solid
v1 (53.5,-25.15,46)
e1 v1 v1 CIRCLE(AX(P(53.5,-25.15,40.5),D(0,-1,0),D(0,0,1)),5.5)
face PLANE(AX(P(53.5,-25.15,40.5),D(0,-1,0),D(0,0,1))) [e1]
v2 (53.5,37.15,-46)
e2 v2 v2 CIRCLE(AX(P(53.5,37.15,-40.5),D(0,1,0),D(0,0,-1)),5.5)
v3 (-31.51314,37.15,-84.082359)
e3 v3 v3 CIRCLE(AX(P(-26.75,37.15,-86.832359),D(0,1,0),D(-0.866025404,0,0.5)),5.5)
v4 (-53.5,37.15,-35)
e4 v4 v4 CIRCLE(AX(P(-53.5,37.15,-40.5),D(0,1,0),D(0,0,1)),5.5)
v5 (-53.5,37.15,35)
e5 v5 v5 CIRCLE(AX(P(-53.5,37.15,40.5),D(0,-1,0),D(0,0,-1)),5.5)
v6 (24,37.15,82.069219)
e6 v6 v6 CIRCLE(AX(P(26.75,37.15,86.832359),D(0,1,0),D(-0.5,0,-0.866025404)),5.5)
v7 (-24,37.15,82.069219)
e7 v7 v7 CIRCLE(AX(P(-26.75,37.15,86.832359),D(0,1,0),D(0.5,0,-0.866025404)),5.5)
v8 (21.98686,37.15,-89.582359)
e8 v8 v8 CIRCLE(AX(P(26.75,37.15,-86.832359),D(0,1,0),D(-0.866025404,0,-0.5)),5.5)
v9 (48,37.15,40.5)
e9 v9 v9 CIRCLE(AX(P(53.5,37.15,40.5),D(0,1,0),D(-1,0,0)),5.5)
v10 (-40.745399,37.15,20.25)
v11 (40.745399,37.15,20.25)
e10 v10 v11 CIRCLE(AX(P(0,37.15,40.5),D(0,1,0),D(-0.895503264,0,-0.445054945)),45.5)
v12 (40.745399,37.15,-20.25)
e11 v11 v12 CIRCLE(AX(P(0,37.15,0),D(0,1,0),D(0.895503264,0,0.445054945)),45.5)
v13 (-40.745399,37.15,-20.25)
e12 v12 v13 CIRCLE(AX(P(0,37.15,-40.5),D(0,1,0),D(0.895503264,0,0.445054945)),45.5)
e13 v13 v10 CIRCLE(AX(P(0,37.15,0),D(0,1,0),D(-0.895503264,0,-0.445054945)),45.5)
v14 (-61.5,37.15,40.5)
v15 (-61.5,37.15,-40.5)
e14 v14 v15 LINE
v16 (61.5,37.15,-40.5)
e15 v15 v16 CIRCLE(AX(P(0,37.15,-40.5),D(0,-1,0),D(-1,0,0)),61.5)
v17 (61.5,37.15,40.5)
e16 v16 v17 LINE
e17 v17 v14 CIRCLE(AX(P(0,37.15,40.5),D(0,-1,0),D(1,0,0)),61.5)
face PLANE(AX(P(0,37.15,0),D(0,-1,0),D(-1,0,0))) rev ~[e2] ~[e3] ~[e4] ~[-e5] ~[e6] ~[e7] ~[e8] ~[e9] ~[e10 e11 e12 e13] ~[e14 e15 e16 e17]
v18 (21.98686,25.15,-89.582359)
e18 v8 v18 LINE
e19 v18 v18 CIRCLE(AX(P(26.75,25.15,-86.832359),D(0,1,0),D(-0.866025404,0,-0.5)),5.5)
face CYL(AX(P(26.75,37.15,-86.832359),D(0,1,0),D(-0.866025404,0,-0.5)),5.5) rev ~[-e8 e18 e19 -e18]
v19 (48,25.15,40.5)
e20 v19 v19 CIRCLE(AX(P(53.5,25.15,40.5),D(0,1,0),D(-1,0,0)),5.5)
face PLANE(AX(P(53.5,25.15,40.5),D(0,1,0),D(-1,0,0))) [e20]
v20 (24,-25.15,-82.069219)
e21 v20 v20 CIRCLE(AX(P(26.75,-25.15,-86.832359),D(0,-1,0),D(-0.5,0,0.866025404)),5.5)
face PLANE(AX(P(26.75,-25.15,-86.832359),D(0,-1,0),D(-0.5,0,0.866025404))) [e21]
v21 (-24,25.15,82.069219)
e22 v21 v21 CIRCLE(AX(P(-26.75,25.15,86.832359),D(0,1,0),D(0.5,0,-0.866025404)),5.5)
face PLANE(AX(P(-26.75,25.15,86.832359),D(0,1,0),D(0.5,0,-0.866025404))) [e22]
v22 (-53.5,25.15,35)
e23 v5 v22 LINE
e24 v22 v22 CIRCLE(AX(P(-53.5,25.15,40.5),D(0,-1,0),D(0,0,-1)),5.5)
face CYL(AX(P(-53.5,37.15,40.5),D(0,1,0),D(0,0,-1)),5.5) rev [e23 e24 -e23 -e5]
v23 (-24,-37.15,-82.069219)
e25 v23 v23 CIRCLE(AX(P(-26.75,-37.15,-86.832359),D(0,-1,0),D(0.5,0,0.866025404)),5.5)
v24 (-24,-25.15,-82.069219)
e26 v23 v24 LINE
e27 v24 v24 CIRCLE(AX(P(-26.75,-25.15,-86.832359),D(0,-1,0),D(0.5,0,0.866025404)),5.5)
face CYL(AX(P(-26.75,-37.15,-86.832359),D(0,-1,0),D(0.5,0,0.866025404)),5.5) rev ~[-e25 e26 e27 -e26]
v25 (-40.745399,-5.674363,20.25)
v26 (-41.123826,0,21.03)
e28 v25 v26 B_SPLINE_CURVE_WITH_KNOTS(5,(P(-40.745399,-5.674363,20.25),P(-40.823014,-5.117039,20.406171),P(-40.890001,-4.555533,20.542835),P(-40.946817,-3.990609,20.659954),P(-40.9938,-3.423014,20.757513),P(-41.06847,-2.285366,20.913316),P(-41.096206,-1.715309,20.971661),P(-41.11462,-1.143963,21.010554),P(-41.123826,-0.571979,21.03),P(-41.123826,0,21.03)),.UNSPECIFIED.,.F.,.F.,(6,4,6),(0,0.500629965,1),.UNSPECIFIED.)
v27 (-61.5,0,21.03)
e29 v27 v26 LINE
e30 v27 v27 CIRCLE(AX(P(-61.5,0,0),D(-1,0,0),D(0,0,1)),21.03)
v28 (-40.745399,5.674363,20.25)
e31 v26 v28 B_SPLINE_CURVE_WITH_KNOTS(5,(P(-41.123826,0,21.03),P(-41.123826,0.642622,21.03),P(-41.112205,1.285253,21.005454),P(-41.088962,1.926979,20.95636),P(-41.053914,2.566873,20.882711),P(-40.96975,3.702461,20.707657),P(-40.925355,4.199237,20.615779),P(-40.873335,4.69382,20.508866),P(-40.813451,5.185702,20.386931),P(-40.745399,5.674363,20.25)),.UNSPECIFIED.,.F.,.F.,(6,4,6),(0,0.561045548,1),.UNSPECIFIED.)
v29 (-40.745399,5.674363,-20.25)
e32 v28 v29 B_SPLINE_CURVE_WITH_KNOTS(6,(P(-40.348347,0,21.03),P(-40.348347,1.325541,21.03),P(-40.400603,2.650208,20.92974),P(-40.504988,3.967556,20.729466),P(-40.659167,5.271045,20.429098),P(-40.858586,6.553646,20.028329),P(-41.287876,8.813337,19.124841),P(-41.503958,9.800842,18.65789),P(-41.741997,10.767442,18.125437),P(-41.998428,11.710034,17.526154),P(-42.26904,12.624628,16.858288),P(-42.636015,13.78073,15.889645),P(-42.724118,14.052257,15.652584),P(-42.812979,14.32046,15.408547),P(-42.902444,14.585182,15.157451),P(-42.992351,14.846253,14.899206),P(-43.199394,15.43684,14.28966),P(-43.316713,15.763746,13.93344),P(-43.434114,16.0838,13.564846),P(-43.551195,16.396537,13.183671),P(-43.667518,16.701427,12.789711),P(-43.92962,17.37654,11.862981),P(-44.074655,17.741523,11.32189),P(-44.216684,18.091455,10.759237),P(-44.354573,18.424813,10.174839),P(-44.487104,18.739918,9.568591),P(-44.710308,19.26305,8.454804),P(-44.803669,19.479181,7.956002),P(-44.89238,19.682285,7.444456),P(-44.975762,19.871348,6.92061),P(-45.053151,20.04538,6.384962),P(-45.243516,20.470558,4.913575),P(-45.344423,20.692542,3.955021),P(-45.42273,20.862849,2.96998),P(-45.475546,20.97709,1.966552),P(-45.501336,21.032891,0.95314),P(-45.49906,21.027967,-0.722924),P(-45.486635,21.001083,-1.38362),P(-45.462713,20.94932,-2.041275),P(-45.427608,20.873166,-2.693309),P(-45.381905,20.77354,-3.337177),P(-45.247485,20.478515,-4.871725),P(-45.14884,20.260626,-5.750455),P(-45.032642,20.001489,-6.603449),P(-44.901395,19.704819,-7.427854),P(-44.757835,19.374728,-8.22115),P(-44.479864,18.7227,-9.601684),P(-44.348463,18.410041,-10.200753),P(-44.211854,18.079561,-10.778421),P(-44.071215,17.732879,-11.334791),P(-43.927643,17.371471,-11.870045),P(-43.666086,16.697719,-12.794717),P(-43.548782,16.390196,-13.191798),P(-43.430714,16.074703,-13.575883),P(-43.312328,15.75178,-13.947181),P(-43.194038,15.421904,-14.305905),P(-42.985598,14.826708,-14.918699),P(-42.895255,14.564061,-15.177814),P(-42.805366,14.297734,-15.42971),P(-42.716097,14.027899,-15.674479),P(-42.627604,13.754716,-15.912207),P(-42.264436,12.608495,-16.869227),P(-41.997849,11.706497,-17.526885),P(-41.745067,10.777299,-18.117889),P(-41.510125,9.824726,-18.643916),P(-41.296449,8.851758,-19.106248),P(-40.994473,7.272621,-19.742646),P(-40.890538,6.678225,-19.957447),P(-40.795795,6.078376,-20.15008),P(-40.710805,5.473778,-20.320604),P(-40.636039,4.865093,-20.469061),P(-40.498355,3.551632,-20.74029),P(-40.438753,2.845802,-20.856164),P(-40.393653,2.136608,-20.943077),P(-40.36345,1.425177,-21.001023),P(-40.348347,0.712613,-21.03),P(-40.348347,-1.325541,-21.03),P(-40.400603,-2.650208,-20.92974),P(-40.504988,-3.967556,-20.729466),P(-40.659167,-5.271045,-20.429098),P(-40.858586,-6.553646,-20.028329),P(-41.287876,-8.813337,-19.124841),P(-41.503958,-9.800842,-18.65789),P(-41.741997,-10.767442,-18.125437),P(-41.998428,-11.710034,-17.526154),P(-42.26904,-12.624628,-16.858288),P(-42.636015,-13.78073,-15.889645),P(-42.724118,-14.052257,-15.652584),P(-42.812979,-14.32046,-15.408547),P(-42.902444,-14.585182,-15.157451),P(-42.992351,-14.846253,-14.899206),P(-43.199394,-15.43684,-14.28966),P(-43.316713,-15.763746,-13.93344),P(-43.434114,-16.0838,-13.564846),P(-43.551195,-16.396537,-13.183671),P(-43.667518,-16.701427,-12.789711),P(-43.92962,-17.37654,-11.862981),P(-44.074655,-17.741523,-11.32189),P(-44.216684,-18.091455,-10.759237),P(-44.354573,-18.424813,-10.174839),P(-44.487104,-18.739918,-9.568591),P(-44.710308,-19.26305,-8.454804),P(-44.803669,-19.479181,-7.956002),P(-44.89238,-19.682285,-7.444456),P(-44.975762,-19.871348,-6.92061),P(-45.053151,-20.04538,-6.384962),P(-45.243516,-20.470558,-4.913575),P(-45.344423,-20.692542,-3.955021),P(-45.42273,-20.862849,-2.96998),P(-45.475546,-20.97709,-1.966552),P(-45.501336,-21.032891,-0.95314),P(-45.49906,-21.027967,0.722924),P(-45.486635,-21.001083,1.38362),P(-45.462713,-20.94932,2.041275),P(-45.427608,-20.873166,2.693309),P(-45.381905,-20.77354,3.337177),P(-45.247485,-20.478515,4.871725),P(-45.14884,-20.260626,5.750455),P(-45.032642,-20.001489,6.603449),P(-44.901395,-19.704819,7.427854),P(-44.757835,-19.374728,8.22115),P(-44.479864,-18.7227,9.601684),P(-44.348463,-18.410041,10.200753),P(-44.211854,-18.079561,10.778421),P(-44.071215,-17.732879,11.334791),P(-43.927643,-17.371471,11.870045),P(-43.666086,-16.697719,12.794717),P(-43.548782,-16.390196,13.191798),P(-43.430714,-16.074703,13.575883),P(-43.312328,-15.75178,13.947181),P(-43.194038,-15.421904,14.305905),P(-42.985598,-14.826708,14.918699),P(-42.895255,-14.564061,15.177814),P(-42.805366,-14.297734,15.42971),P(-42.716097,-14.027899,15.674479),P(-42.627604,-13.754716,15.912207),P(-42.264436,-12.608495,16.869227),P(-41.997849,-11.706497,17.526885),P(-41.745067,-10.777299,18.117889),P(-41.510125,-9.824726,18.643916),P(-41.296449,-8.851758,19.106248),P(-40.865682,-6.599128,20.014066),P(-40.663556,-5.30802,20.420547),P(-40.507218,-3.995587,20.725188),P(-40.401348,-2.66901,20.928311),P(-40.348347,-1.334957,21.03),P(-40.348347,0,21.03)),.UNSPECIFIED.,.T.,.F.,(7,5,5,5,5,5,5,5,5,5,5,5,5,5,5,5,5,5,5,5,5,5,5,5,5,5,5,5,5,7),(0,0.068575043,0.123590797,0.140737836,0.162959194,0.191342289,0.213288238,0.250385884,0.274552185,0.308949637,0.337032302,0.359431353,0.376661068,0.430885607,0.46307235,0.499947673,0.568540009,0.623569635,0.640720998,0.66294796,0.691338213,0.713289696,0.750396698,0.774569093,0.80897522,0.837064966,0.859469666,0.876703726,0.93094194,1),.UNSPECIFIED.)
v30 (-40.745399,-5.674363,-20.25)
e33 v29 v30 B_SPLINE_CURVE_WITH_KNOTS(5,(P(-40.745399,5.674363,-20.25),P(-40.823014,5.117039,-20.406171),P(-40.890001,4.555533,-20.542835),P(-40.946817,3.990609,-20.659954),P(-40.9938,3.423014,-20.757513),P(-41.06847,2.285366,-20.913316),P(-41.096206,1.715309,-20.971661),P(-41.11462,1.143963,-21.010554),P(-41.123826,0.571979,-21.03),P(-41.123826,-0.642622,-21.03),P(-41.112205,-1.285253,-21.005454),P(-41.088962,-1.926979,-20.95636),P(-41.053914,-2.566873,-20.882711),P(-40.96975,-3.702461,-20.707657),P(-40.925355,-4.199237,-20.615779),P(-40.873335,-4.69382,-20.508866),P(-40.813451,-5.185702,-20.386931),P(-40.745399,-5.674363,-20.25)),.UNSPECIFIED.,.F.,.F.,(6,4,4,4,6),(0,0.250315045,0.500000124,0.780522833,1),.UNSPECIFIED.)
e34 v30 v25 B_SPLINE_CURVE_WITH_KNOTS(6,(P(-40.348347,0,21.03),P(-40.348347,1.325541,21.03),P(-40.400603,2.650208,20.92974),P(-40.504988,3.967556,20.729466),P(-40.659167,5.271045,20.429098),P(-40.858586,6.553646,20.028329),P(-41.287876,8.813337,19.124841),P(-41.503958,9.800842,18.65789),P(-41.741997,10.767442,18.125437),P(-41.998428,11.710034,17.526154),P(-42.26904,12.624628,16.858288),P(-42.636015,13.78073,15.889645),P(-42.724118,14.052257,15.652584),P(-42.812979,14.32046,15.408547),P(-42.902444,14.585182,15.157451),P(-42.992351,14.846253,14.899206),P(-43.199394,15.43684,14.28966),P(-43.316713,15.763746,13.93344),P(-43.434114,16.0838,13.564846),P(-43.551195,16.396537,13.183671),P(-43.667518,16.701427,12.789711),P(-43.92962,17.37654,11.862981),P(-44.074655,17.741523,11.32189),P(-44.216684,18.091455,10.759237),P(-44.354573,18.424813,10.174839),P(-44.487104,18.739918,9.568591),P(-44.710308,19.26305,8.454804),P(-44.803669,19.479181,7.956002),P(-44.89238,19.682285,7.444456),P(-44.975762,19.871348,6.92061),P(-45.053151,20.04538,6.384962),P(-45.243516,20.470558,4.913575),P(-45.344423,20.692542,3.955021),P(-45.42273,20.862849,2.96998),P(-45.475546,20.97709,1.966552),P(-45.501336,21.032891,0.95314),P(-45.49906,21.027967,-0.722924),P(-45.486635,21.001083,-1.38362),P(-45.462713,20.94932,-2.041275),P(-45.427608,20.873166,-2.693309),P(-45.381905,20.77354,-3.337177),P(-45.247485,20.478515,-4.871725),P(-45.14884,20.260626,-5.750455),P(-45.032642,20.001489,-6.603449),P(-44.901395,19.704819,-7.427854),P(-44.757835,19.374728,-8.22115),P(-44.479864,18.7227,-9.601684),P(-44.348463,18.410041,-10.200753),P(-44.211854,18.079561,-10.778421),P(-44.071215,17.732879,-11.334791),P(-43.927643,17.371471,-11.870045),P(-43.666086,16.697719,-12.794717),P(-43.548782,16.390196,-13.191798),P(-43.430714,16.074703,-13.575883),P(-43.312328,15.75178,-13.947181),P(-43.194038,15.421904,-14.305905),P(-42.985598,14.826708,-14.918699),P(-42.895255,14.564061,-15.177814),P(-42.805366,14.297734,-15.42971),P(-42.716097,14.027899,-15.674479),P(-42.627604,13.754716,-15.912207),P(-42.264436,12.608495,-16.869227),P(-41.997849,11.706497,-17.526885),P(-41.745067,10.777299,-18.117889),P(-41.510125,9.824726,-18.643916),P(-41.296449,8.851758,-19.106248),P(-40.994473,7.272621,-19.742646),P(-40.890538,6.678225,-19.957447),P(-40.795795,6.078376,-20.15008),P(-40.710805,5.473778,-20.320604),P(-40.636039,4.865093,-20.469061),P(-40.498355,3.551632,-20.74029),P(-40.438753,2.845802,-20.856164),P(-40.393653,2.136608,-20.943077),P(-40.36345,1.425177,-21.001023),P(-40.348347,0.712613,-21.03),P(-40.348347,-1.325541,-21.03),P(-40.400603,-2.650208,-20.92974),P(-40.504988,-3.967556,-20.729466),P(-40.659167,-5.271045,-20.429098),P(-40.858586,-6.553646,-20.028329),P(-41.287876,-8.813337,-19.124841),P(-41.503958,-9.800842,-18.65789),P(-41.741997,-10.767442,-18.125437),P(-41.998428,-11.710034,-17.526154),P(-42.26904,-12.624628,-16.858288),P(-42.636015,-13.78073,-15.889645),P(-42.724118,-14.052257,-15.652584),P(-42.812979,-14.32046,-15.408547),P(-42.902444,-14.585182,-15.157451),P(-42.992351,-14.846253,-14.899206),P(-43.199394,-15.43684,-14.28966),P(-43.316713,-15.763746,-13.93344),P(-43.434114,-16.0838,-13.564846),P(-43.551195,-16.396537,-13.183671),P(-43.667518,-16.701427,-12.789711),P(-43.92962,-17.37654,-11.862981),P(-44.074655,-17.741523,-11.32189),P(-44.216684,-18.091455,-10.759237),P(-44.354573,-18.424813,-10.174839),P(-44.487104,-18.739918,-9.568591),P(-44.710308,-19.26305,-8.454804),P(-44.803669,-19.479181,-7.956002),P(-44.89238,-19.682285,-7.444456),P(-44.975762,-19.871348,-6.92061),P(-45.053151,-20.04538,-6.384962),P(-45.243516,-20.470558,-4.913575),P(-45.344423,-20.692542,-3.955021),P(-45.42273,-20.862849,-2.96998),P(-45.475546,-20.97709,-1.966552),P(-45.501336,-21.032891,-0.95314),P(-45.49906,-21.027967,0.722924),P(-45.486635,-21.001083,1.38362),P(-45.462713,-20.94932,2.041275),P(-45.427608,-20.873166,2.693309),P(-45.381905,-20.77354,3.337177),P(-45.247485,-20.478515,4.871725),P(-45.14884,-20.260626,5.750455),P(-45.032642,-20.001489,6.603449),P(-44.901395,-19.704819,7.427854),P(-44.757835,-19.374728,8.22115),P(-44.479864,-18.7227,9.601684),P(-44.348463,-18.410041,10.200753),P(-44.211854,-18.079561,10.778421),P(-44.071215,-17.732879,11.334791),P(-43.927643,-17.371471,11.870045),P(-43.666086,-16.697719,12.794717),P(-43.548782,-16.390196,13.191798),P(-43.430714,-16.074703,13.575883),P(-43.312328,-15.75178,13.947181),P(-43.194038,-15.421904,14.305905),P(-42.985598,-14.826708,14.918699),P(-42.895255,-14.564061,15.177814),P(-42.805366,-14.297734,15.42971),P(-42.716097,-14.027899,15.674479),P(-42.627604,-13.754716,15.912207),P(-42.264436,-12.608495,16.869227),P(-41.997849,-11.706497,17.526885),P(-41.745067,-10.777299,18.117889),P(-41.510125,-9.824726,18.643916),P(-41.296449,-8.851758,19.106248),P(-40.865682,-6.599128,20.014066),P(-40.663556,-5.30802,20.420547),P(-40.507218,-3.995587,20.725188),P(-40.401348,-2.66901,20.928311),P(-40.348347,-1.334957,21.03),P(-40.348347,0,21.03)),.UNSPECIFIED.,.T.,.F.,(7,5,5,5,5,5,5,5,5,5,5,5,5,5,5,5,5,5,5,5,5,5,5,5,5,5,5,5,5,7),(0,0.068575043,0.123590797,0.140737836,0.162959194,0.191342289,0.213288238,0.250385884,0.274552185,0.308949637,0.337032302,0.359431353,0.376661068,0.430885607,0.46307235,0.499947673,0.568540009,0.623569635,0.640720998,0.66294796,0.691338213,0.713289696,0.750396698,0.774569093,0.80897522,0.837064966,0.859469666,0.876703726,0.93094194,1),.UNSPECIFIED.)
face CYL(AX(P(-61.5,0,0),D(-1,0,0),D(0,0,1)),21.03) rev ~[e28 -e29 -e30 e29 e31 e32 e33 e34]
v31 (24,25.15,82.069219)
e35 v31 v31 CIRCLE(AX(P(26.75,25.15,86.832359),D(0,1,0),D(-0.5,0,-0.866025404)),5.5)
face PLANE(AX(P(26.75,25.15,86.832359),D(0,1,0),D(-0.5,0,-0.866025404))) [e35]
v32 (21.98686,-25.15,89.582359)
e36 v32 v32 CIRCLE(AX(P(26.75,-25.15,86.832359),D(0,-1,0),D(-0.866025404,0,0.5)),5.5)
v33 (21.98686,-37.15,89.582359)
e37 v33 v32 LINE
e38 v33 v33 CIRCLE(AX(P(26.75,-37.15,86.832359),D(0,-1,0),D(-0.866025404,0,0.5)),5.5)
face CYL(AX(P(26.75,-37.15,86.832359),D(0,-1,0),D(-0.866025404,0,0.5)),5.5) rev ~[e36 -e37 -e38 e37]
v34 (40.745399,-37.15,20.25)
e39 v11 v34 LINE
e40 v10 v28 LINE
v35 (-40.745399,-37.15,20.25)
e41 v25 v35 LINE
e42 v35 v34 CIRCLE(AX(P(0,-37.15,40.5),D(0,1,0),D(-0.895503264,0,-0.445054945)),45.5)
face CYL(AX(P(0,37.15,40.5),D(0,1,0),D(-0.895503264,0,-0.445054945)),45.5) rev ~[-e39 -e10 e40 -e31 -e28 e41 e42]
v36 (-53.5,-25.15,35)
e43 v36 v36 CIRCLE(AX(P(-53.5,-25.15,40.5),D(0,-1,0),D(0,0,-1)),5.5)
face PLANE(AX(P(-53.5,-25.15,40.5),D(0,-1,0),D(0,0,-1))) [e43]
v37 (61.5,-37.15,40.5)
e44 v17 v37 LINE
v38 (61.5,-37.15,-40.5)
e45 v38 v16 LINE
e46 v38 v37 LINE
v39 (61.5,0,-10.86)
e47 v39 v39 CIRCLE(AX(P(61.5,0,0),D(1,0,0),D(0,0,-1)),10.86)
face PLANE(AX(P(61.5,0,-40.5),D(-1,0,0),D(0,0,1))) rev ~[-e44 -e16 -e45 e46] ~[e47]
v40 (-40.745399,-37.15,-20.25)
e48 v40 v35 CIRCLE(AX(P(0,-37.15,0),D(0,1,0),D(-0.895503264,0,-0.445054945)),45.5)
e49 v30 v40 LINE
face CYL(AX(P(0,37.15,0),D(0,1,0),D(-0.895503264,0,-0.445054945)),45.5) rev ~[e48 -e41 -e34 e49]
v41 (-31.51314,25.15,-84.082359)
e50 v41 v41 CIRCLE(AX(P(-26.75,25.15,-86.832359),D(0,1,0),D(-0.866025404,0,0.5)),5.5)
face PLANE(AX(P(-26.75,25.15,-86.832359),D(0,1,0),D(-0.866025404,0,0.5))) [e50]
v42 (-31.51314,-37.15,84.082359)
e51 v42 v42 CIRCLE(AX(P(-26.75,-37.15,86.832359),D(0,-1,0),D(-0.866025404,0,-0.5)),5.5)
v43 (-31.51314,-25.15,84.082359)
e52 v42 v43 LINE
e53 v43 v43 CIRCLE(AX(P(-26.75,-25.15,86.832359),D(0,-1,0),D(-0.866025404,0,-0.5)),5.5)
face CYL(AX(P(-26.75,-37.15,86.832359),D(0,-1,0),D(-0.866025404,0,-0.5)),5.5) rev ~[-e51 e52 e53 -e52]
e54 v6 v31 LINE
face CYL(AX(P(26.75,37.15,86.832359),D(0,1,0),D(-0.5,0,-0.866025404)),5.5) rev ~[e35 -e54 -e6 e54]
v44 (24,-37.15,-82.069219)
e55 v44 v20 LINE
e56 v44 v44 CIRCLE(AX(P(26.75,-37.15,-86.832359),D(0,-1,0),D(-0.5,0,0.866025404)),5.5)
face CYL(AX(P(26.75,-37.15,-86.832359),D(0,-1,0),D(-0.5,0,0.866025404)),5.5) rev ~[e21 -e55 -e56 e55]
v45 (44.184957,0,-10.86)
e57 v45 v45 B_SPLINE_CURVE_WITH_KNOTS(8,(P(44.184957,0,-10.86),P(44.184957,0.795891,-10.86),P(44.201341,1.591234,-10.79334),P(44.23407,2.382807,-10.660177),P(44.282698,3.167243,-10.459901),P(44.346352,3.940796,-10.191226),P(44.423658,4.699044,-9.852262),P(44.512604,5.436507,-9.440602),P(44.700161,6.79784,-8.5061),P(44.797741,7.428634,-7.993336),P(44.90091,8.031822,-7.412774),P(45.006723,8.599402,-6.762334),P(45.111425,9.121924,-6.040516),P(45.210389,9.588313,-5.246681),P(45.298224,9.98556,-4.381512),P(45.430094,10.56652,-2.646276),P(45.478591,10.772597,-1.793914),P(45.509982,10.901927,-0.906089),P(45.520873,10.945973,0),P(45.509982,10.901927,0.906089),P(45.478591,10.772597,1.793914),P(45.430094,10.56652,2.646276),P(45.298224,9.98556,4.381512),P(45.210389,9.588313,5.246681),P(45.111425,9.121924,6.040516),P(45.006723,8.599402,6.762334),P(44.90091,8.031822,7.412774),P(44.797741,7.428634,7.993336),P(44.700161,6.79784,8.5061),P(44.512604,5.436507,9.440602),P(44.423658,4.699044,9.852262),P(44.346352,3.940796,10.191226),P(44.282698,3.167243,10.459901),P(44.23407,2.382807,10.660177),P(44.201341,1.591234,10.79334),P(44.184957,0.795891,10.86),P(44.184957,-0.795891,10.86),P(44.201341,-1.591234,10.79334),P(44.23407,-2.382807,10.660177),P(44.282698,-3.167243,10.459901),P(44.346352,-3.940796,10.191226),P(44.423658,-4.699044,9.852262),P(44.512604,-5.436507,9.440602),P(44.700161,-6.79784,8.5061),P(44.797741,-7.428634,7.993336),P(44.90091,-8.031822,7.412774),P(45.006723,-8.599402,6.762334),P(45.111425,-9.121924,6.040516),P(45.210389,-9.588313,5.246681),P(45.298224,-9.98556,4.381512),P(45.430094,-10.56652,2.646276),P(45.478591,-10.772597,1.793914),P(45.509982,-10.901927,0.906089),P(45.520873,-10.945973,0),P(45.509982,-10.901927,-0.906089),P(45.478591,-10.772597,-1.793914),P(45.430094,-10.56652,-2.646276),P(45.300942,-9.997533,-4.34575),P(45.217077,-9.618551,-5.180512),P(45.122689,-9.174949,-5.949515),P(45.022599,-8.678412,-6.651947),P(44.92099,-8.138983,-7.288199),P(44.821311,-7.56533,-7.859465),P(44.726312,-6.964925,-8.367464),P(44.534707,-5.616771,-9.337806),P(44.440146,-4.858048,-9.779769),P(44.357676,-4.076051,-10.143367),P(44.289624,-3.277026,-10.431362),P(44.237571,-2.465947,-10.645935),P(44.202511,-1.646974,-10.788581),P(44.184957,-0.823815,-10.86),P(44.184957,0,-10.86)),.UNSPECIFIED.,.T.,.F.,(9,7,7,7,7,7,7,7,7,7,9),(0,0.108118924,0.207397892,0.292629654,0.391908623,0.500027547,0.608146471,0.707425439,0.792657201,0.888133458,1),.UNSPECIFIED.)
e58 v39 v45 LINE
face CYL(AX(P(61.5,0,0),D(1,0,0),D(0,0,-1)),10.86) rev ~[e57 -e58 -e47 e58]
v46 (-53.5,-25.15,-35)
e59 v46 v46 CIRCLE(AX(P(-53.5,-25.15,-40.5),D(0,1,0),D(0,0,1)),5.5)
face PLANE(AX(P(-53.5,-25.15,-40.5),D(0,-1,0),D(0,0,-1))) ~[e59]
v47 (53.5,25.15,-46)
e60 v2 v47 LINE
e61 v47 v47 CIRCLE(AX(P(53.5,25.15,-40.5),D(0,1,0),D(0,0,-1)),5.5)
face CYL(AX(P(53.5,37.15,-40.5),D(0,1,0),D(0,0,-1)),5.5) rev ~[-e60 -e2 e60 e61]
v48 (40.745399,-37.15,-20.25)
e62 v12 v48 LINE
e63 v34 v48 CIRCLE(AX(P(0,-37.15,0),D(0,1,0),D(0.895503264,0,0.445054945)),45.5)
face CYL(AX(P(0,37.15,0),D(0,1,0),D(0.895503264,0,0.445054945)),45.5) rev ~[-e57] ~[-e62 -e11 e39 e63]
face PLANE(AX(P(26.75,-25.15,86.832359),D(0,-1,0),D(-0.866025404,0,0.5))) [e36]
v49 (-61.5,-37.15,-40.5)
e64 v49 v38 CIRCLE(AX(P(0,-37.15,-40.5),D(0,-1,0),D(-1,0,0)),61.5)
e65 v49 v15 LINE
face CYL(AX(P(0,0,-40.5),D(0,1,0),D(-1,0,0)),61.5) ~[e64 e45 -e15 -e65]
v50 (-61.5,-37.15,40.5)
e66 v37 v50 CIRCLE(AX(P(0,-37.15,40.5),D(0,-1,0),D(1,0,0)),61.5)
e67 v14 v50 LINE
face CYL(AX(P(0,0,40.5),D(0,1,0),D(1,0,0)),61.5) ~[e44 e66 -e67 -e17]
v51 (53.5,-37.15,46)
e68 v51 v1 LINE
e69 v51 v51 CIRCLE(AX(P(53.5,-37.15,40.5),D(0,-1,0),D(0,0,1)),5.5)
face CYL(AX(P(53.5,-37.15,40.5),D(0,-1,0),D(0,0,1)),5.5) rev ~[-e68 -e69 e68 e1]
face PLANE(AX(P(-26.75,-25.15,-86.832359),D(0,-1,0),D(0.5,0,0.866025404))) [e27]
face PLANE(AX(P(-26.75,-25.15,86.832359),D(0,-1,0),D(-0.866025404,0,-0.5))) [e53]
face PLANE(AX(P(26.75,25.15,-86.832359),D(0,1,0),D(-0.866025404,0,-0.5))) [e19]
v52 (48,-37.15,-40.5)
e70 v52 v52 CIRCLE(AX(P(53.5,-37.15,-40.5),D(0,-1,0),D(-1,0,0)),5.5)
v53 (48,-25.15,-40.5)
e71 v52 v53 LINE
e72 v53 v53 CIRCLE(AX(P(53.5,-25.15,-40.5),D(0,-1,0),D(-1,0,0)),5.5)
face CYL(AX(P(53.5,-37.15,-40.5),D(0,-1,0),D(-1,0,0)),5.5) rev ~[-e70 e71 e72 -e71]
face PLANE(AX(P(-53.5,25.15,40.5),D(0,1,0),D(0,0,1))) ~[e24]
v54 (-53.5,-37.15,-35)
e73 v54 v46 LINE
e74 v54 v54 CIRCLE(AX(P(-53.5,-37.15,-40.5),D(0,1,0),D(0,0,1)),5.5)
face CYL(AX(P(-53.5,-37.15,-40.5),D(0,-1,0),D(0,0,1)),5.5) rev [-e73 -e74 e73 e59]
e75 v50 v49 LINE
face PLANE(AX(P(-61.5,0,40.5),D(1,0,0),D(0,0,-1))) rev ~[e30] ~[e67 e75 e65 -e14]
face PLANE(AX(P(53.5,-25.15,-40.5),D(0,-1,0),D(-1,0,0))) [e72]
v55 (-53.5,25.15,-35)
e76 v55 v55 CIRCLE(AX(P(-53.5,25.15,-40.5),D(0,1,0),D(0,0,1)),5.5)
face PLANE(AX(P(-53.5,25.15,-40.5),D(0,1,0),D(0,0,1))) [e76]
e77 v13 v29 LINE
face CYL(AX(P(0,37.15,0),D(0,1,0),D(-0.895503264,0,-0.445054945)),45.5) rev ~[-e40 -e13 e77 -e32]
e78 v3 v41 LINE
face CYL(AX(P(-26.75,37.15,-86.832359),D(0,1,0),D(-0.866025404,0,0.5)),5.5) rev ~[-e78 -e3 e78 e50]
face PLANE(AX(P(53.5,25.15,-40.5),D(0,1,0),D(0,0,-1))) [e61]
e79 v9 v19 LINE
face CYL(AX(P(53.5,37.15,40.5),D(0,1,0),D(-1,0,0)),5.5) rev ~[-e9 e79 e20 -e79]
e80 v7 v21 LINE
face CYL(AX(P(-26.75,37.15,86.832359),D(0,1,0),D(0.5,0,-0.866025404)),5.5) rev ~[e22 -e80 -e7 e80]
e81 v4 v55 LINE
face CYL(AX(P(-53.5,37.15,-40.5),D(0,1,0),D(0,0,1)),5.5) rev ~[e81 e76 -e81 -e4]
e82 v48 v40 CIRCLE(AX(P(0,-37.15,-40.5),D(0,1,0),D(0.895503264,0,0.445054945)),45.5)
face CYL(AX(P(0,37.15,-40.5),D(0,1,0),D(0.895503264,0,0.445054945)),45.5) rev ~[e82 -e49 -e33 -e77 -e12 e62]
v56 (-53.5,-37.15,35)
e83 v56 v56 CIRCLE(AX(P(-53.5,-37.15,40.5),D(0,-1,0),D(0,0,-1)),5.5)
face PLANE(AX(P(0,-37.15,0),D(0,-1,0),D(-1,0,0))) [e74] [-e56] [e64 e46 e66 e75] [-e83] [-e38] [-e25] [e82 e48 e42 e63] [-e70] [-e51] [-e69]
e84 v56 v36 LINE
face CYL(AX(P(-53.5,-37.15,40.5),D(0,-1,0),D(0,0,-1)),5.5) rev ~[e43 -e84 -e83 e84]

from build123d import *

# Parameters (mm, degrees)
Y_KSEKLIK_EKSTR_ZYON1_DEPTH = 37.15
KES_EKSTR_ZYON1_DEPTH       = 74.3
IZIM3_R                     = 5.5
KES_EKSTR_ZYON2_DEPTH       = 12
DAIRESEL_KAPLAMA1_COUNT     = 5
DAIRESEL_KAPLAMA1_ANGLE     = 240
AYNALAMA1_COPY_1_SKETCH_R   = 5.5
AYNALAMA1_COPY_1_DEPTH      = 12
AYNALAMA1_COPY_2_SKETCH_R   = 5.5
AYNALAMA1_COPY_2_DEPTH      = 12
AYNALAMA1_COPY_3_SKETCH_R   = 5.5
AYNALAMA1_COPY_3_DEPTH      = 12
AYNALAMA1_COPY_4_SKETCH_R   = 5.5
AYNALAMA1_COPY_4_DEPTH      = 12
AYNALAMA2_COPY_1_SKETCH_R   = 5.5
AYNALAMA2_COPY_1_DEPTH      = 12
AYNALAMA2_COPY_2_SKETCH_R   = 5.5
AYNALAMA2_COPY_2_DEPTH      = 12
AYNALAMA2_COPY_3_SKETCH_R   = 5.5
AYNALAMA2_COPY_3_DEPTH      = 12
AYNALAMA2_COPY_4_SKETCH_R   = 5.5
AYNALAMA2_COPY_4_DEPTH      = 12
AYNALAMA2_COPY_5_SKETCH_R   = 5.5
AYNALAMA2_COPY_5_DEPTH      = 12
AYNALAMA2_COPY_6_SKETCH_R   = 5.5
AYNALAMA2_COPY_6_DEPTH      = 12
AYNALAMA2_COPY_7_SKETCH_R   = 5.5
AYNALAMA2_COPY_7_DEPTH      = 12
AYNALAMA2_COPY_8_SKETCH_R   = 5.5
AYNALAMA2_COPY_8_DEPTH      = 12
AYNALAMA2_COPY_9_SKETCH_R   = 5.5
AYNALAMA2_COPY_9_DEPTH      = 12
KES_EKSTR_ZYON3_REACH       = 166.052
KES_EKSTR_ZYON3_END_RADIUS  = 45.5
IZIM4_R                     = 21.03
KES_EKSTR_ZYON4_REACH       = 166.052
KES_EKSTR_ZYON4_END_RADIUS  = 45.5
IZIM5_R                     = 10.86


with BuildPart() as part:
    # Çizim1 → Yükseklik-Ekstrüzyon1 (new, symmetric)
    with BuildSketch(Plane(origin=(0, 0, 0), x_dir=(1, 0, 0), z_dir=(0, 1, 0))):
        with BuildLine():
            Line((61.5, 40.5), (61.5, -40.5))
            ThreePointArc((61.5, -40.5), (0, -102), (-61.5, -40.5))
            Line((-61.5, -40.5), (-61.5, 40.5))
            ThreePointArc((-61.5, 40.5), (0, 102), (61.5, 40.5))
        make_face()
    extrude(amount=Y_KSEKLIK_EKSTR_ZYON1_DEPTH, both=True)

    # Çizim2 → Kes-Ekstrüzyon1 (cut)
    with BuildSketch(Plane(origin=(0, 37.15, 0), x_dir=(1, 0, 0), z_dir=(0, 1, 0))):
        with BuildLine():
            ThreePointArc((40.745398513, 20.25), (0, 86), (-40.745398513, 20.25))
            ThreePointArc((-40.745398513, 20.25), (-45.5, 0), (-40.745398513, -20.25))
            ThreePointArc((-40.745398513, -20.25), (0, -86), (40.745398513, -20.25))
            ThreePointArc((40.745398513, -20.25), (45.5, 0), (40.745398513, 20.25))
        make_face()
    extrude(amount=-KES_EKSTR_ZYON1_DEPTH, mode=Mode.SUBTRACT)

    # Çizim3 → Kes-Ekstrüzyon2 (cut)
    with BuildSketch(Plane(origin=(0, 37.15, 0), x_dir=(1, 0, 0), z_dir=(0, 1, 0))):
        with Locations(Location((-53.5, 40.5, 0), (0, 0, 270))):
            Circle(IZIM3_R)
    kes_ekstr_zyon2 = extrude(amount=-KES_EKSTR_ZYON2_DEPTH, mode=Mode.SUBTRACT)

    # Dairesel Kaplama1: Kes-Ekstrüzyon2 ×5 about axis
    dairesel_kaplama1_axis = Axis((0, 0, -40.5), (0, -1, 0))
    for i in range(1, DAIRESEL_KAPLAMA1_COUNT):
        add(kes_ekstr_zyon2.rotate(dairesel_kaplama1_axis, i * DAIRESEL_KAPLAMA1_ANGLE / (DAIRESEL_KAPLAMA1_COUNT - 1)), mode=Mode.SUBTRACT)

    # Aynalama1: Kes-Ekstrüzyon2 across plane
    add(kes_ekstr_zyon2.mirror(Plane.XY), mode=Mode.SUBTRACT)

    # Aynalama1 copy 1 sketch → Aynalama1 copy 1 (cut)
    with BuildSketch(Plane(origin=(-35.074028853, 37.15, 20.25), x_dir=(0.4999999999999978, 0, -0.8660254037844399), z_dir=(0, 1, 0))):
        with Locations((-53.5, -40.5)):
            Circle(AYNALAMA1_COPY_1_SKETCH_R)
    extrude(amount=-AYNALAMA1_COPY_1_DEPTH, mode=Mode.SUBTRACT)

    # Aynalama1 copy 2 sketch → Aynalama1 copy 2 (cut)
    with BuildSketch(Plane(origin=(-35.074028853, 37.15, 60.75), x_dir=(-0.5000000000000044, 0, -0.866025403784436), z_dir=(0, 1, 0))):
        with Locations((-53.5, -40.5)):
            Circle(AYNALAMA1_COPY_2_SKETCH_R)
    extrude(amount=-AYNALAMA1_COPY_2_DEPTH, mode=Mode.SUBTRACT)

    # Aynalama1 copy 3 sketch → Aynalama1 copy 3 (cut)
    with BuildSketch(Plane(origin=(0, 37.15, 81), x_dir=(-1, 0, 0), z_dir=(0, 1, 0))):
        with Locations((-53.5, -40.5)):
            Circle(AYNALAMA1_COPY_3_SKETCH_R)
    extrude(amount=-AYNALAMA1_COPY_3_DEPTH, mode=Mode.SUBTRACT)

    # Aynalama1 copy 4 sketch → Aynalama1 copy 4 (cut)
    with BuildSketch(Plane(origin=(35.074028853, 37.15, 60.75), x_dir=(-0.4999999999999912, 0, 0.8660254037844437), z_dir=(0, 1, 0))):
        with Locations((-53.5, -40.5)):
            Circle(AYNALAMA1_COPY_4_SKETCH_R)
    extrude(amount=-AYNALAMA1_COPY_4_DEPTH, mode=Mode.SUBTRACT)

    # Aynalama2: Kes-Ekstrüzyon2 across plane
    add(kes_ekstr_zyon2.mirror(Plane.ZX), mode=Mode.SUBTRACT)

    # Aynalama2 copy 1 sketch → Aynalama2 copy 1 (cut)
    with BuildSketch(Plane(origin=(-35.074028853, -37.15, -20.25), x_dir=(0.4999999999999978, 0, 0.8660254037844399), z_dir=(0, -1, 0))):
        with Locations((-53.5, -40.5)):
            Circle(AYNALAMA2_COPY_1_SKETCH_R)
    extrude(amount=-AYNALAMA2_COPY_1_DEPTH, mode=Mode.SUBTRACT)

    # Aynalama2 copy 2 sketch → Aynalama2 copy 2 (cut)
    with BuildSketch(Plane(origin=(-35.074028853, -37.15, -60.75), x_dir=(-0.5000000000000044, 0, 0.866025403784436), z_dir=(0, -1, 0))):
        with Locations((-53.5, -40.5)):
            Circle(AYNALAMA2_COPY_2_SKETCH_R)
    extrude(amount=-AYNALAMA2_COPY_2_DEPTH, mode=Mode.SUBTRACT)

    # Aynalama2 copy 3 sketch → Aynalama2 copy 3 (cut)
    with BuildSketch(Plane(origin=(0, -37.15, -81), x_dir=(-1, 0, 0), z_dir=(0, -1, 0))):
        with Locations((-53.5, -40.5)):
            Circle(AYNALAMA2_COPY_3_SKETCH_R)
    extrude(amount=-AYNALAMA2_COPY_3_DEPTH, mode=Mode.SUBTRACT)

    # Aynalama2 copy 4 sketch → Aynalama2 copy 4 (cut)
    with BuildSketch(Plane(origin=(35.074028853, -37.15, -60.75), x_dir=(-0.4999999999999912, 0, -0.8660254037844437), z_dir=(0, -1, 0))):
        with Locations((-53.5, -40.5)):
            Circle(AYNALAMA2_COPY_4_SKETCH_R)
    extrude(amount=-AYNALAMA2_COPY_4_DEPTH, mode=Mode.SUBTRACT)

    # Aynalama2 copy 5 sketch → Aynalama2 copy 5 (cut)
    with BuildSketch(Plane.XZ.offset(37.15)):
        with Locations(Location((-53.5, 40.5, 0), (0, 0, 270))):
            Circle(AYNALAMA2_COPY_5_SKETCH_R)
    extrude(amount=-AYNALAMA2_COPY_5_DEPTH, mode=Mode.SUBTRACT)

    # Aynalama2 copy 6 sketch → Aynalama2 copy 6 (cut)
    with BuildSketch(Plane(origin=(-35.074028853, -37.15, 20.25), x_dir=(0.4999999999999978, 0, -0.8660254037844399), z_dir=(0, -1, 0))):
        with Locations(Location((-53.5, 40.5, 0), (0, 0, 270))):
            Circle(AYNALAMA2_COPY_6_SKETCH_R)
    extrude(amount=-AYNALAMA2_COPY_6_DEPTH, mode=Mode.SUBTRACT)

    # Aynalama2 copy 7 sketch → Aynalama2 copy 7 (cut)
    with BuildSketch(Plane(origin=(-35.074028853, -37.15, 60.75), x_dir=(-0.5000000000000044, 0, -0.866025403784436), z_dir=(0, -1, 0))):
        with Locations(Location((-53.5, 40.5, 0), (0, 0, 270))):
            Circle(AYNALAMA2_COPY_7_SKETCH_R)
    extrude(amount=-AYNALAMA2_COPY_7_DEPTH, mode=Mode.SUBTRACT)

    # Aynalama2 copy 8 sketch → Aynalama2 copy 8 (cut)
    with BuildSketch(Plane(origin=(0, -37.15, 81), x_dir=(-1, 0, 0), z_dir=(0, -1, 0))):
        with Locations(Location((-53.5, 40.5, 0), (0, 0, 270))):
            Circle(AYNALAMA2_COPY_8_SKETCH_R)
    extrude(amount=-AYNALAMA2_COPY_8_DEPTH, mode=Mode.SUBTRACT)

    # Aynalama2 copy 9 sketch → Aynalama2 copy 9 (cut)
    with BuildSketch(Plane(origin=(35.074028853, -37.15, 60.75), x_dir=(-0.4999999999999912, 0, 0.8660254037844437), z_dir=(0, -1, 0))):
        with Locations(Location((-53.5, 40.5, 0), (0, 0, 270))):
            Circle(AYNALAMA2_COPY_9_SKETCH_R)
    extrude(amount=-AYNALAMA2_COPY_9_DEPTH, mode=Mode.SUBTRACT)

    # Kes-Ekstrüzyon3: up to this cylinder (the profile starts outside it)
    kes_ekstr_zyon3_end = Plane(origin=(0, 0, 0), z_dir=(0, 1, 0)) * Cylinder(KES_EKSTR_ZYON3_END_RADIUS, 424.104, mode=Mode.PRIVATE)
    # Çizim4 → Kes-Ekstrüzyon3 (cut, up to the surface)
    with BuildSketch(Plane.ZY.offset(61.5), mode=Mode.PRIVATE) as kes_ekstr_zyon3_sk1:
        Circle(IZIM4_R)
    kes_ekstr_zyon3_tool1 = extrude(kes_ekstr_zyon3_sk1.sketch, amount=-KES_EKSTR_ZYON3_REACH, mode=Mode.PRIVATE) - kes_ekstr_zyon3_end
    add(kes_ekstr_zyon3_tool1.solids().sort_by_distance((-61.5, 0, 0))[0], mode=Mode.SUBTRACT)

    # Kes-Ekstrüzyon4: up to this cylinder (the profile starts outside it)
    kes_ekstr_zyon4_end = Plane(origin=(0, 0, 0), z_dir=(0, 1, 0)) * Cylinder(KES_EKSTR_ZYON4_END_RADIUS, 424.104, mode=Mode.PRIVATE)
    # Çizim5 → Kes-Ekstrüzyon4 (cut, up to the surface)
    with BuildSketch(Plane(origin=(61.5, 0, 0), x_dir=(0, 0, -1), z_dir=(1, 0, 0)), mode=Mode.PRIVATE) as kes_ekstr_zyon4_sk1:
        Circle(IZIM5_R)
    kes_ekstr_zyon4_tool1 = extrude(kes_ekstr_zyon4_sk1.sketch, amount=-KES_EKSTR_ZYON4_REACH, mode=Mode.PRIVATE) - kes_ekstr_zyon4_end
    add(kes_ekstr_zyon4_tool1.solids().sort_by_distance((61.5, 0, 0))[0], mode=Mode.SUBTRACT)


solid = part.part
